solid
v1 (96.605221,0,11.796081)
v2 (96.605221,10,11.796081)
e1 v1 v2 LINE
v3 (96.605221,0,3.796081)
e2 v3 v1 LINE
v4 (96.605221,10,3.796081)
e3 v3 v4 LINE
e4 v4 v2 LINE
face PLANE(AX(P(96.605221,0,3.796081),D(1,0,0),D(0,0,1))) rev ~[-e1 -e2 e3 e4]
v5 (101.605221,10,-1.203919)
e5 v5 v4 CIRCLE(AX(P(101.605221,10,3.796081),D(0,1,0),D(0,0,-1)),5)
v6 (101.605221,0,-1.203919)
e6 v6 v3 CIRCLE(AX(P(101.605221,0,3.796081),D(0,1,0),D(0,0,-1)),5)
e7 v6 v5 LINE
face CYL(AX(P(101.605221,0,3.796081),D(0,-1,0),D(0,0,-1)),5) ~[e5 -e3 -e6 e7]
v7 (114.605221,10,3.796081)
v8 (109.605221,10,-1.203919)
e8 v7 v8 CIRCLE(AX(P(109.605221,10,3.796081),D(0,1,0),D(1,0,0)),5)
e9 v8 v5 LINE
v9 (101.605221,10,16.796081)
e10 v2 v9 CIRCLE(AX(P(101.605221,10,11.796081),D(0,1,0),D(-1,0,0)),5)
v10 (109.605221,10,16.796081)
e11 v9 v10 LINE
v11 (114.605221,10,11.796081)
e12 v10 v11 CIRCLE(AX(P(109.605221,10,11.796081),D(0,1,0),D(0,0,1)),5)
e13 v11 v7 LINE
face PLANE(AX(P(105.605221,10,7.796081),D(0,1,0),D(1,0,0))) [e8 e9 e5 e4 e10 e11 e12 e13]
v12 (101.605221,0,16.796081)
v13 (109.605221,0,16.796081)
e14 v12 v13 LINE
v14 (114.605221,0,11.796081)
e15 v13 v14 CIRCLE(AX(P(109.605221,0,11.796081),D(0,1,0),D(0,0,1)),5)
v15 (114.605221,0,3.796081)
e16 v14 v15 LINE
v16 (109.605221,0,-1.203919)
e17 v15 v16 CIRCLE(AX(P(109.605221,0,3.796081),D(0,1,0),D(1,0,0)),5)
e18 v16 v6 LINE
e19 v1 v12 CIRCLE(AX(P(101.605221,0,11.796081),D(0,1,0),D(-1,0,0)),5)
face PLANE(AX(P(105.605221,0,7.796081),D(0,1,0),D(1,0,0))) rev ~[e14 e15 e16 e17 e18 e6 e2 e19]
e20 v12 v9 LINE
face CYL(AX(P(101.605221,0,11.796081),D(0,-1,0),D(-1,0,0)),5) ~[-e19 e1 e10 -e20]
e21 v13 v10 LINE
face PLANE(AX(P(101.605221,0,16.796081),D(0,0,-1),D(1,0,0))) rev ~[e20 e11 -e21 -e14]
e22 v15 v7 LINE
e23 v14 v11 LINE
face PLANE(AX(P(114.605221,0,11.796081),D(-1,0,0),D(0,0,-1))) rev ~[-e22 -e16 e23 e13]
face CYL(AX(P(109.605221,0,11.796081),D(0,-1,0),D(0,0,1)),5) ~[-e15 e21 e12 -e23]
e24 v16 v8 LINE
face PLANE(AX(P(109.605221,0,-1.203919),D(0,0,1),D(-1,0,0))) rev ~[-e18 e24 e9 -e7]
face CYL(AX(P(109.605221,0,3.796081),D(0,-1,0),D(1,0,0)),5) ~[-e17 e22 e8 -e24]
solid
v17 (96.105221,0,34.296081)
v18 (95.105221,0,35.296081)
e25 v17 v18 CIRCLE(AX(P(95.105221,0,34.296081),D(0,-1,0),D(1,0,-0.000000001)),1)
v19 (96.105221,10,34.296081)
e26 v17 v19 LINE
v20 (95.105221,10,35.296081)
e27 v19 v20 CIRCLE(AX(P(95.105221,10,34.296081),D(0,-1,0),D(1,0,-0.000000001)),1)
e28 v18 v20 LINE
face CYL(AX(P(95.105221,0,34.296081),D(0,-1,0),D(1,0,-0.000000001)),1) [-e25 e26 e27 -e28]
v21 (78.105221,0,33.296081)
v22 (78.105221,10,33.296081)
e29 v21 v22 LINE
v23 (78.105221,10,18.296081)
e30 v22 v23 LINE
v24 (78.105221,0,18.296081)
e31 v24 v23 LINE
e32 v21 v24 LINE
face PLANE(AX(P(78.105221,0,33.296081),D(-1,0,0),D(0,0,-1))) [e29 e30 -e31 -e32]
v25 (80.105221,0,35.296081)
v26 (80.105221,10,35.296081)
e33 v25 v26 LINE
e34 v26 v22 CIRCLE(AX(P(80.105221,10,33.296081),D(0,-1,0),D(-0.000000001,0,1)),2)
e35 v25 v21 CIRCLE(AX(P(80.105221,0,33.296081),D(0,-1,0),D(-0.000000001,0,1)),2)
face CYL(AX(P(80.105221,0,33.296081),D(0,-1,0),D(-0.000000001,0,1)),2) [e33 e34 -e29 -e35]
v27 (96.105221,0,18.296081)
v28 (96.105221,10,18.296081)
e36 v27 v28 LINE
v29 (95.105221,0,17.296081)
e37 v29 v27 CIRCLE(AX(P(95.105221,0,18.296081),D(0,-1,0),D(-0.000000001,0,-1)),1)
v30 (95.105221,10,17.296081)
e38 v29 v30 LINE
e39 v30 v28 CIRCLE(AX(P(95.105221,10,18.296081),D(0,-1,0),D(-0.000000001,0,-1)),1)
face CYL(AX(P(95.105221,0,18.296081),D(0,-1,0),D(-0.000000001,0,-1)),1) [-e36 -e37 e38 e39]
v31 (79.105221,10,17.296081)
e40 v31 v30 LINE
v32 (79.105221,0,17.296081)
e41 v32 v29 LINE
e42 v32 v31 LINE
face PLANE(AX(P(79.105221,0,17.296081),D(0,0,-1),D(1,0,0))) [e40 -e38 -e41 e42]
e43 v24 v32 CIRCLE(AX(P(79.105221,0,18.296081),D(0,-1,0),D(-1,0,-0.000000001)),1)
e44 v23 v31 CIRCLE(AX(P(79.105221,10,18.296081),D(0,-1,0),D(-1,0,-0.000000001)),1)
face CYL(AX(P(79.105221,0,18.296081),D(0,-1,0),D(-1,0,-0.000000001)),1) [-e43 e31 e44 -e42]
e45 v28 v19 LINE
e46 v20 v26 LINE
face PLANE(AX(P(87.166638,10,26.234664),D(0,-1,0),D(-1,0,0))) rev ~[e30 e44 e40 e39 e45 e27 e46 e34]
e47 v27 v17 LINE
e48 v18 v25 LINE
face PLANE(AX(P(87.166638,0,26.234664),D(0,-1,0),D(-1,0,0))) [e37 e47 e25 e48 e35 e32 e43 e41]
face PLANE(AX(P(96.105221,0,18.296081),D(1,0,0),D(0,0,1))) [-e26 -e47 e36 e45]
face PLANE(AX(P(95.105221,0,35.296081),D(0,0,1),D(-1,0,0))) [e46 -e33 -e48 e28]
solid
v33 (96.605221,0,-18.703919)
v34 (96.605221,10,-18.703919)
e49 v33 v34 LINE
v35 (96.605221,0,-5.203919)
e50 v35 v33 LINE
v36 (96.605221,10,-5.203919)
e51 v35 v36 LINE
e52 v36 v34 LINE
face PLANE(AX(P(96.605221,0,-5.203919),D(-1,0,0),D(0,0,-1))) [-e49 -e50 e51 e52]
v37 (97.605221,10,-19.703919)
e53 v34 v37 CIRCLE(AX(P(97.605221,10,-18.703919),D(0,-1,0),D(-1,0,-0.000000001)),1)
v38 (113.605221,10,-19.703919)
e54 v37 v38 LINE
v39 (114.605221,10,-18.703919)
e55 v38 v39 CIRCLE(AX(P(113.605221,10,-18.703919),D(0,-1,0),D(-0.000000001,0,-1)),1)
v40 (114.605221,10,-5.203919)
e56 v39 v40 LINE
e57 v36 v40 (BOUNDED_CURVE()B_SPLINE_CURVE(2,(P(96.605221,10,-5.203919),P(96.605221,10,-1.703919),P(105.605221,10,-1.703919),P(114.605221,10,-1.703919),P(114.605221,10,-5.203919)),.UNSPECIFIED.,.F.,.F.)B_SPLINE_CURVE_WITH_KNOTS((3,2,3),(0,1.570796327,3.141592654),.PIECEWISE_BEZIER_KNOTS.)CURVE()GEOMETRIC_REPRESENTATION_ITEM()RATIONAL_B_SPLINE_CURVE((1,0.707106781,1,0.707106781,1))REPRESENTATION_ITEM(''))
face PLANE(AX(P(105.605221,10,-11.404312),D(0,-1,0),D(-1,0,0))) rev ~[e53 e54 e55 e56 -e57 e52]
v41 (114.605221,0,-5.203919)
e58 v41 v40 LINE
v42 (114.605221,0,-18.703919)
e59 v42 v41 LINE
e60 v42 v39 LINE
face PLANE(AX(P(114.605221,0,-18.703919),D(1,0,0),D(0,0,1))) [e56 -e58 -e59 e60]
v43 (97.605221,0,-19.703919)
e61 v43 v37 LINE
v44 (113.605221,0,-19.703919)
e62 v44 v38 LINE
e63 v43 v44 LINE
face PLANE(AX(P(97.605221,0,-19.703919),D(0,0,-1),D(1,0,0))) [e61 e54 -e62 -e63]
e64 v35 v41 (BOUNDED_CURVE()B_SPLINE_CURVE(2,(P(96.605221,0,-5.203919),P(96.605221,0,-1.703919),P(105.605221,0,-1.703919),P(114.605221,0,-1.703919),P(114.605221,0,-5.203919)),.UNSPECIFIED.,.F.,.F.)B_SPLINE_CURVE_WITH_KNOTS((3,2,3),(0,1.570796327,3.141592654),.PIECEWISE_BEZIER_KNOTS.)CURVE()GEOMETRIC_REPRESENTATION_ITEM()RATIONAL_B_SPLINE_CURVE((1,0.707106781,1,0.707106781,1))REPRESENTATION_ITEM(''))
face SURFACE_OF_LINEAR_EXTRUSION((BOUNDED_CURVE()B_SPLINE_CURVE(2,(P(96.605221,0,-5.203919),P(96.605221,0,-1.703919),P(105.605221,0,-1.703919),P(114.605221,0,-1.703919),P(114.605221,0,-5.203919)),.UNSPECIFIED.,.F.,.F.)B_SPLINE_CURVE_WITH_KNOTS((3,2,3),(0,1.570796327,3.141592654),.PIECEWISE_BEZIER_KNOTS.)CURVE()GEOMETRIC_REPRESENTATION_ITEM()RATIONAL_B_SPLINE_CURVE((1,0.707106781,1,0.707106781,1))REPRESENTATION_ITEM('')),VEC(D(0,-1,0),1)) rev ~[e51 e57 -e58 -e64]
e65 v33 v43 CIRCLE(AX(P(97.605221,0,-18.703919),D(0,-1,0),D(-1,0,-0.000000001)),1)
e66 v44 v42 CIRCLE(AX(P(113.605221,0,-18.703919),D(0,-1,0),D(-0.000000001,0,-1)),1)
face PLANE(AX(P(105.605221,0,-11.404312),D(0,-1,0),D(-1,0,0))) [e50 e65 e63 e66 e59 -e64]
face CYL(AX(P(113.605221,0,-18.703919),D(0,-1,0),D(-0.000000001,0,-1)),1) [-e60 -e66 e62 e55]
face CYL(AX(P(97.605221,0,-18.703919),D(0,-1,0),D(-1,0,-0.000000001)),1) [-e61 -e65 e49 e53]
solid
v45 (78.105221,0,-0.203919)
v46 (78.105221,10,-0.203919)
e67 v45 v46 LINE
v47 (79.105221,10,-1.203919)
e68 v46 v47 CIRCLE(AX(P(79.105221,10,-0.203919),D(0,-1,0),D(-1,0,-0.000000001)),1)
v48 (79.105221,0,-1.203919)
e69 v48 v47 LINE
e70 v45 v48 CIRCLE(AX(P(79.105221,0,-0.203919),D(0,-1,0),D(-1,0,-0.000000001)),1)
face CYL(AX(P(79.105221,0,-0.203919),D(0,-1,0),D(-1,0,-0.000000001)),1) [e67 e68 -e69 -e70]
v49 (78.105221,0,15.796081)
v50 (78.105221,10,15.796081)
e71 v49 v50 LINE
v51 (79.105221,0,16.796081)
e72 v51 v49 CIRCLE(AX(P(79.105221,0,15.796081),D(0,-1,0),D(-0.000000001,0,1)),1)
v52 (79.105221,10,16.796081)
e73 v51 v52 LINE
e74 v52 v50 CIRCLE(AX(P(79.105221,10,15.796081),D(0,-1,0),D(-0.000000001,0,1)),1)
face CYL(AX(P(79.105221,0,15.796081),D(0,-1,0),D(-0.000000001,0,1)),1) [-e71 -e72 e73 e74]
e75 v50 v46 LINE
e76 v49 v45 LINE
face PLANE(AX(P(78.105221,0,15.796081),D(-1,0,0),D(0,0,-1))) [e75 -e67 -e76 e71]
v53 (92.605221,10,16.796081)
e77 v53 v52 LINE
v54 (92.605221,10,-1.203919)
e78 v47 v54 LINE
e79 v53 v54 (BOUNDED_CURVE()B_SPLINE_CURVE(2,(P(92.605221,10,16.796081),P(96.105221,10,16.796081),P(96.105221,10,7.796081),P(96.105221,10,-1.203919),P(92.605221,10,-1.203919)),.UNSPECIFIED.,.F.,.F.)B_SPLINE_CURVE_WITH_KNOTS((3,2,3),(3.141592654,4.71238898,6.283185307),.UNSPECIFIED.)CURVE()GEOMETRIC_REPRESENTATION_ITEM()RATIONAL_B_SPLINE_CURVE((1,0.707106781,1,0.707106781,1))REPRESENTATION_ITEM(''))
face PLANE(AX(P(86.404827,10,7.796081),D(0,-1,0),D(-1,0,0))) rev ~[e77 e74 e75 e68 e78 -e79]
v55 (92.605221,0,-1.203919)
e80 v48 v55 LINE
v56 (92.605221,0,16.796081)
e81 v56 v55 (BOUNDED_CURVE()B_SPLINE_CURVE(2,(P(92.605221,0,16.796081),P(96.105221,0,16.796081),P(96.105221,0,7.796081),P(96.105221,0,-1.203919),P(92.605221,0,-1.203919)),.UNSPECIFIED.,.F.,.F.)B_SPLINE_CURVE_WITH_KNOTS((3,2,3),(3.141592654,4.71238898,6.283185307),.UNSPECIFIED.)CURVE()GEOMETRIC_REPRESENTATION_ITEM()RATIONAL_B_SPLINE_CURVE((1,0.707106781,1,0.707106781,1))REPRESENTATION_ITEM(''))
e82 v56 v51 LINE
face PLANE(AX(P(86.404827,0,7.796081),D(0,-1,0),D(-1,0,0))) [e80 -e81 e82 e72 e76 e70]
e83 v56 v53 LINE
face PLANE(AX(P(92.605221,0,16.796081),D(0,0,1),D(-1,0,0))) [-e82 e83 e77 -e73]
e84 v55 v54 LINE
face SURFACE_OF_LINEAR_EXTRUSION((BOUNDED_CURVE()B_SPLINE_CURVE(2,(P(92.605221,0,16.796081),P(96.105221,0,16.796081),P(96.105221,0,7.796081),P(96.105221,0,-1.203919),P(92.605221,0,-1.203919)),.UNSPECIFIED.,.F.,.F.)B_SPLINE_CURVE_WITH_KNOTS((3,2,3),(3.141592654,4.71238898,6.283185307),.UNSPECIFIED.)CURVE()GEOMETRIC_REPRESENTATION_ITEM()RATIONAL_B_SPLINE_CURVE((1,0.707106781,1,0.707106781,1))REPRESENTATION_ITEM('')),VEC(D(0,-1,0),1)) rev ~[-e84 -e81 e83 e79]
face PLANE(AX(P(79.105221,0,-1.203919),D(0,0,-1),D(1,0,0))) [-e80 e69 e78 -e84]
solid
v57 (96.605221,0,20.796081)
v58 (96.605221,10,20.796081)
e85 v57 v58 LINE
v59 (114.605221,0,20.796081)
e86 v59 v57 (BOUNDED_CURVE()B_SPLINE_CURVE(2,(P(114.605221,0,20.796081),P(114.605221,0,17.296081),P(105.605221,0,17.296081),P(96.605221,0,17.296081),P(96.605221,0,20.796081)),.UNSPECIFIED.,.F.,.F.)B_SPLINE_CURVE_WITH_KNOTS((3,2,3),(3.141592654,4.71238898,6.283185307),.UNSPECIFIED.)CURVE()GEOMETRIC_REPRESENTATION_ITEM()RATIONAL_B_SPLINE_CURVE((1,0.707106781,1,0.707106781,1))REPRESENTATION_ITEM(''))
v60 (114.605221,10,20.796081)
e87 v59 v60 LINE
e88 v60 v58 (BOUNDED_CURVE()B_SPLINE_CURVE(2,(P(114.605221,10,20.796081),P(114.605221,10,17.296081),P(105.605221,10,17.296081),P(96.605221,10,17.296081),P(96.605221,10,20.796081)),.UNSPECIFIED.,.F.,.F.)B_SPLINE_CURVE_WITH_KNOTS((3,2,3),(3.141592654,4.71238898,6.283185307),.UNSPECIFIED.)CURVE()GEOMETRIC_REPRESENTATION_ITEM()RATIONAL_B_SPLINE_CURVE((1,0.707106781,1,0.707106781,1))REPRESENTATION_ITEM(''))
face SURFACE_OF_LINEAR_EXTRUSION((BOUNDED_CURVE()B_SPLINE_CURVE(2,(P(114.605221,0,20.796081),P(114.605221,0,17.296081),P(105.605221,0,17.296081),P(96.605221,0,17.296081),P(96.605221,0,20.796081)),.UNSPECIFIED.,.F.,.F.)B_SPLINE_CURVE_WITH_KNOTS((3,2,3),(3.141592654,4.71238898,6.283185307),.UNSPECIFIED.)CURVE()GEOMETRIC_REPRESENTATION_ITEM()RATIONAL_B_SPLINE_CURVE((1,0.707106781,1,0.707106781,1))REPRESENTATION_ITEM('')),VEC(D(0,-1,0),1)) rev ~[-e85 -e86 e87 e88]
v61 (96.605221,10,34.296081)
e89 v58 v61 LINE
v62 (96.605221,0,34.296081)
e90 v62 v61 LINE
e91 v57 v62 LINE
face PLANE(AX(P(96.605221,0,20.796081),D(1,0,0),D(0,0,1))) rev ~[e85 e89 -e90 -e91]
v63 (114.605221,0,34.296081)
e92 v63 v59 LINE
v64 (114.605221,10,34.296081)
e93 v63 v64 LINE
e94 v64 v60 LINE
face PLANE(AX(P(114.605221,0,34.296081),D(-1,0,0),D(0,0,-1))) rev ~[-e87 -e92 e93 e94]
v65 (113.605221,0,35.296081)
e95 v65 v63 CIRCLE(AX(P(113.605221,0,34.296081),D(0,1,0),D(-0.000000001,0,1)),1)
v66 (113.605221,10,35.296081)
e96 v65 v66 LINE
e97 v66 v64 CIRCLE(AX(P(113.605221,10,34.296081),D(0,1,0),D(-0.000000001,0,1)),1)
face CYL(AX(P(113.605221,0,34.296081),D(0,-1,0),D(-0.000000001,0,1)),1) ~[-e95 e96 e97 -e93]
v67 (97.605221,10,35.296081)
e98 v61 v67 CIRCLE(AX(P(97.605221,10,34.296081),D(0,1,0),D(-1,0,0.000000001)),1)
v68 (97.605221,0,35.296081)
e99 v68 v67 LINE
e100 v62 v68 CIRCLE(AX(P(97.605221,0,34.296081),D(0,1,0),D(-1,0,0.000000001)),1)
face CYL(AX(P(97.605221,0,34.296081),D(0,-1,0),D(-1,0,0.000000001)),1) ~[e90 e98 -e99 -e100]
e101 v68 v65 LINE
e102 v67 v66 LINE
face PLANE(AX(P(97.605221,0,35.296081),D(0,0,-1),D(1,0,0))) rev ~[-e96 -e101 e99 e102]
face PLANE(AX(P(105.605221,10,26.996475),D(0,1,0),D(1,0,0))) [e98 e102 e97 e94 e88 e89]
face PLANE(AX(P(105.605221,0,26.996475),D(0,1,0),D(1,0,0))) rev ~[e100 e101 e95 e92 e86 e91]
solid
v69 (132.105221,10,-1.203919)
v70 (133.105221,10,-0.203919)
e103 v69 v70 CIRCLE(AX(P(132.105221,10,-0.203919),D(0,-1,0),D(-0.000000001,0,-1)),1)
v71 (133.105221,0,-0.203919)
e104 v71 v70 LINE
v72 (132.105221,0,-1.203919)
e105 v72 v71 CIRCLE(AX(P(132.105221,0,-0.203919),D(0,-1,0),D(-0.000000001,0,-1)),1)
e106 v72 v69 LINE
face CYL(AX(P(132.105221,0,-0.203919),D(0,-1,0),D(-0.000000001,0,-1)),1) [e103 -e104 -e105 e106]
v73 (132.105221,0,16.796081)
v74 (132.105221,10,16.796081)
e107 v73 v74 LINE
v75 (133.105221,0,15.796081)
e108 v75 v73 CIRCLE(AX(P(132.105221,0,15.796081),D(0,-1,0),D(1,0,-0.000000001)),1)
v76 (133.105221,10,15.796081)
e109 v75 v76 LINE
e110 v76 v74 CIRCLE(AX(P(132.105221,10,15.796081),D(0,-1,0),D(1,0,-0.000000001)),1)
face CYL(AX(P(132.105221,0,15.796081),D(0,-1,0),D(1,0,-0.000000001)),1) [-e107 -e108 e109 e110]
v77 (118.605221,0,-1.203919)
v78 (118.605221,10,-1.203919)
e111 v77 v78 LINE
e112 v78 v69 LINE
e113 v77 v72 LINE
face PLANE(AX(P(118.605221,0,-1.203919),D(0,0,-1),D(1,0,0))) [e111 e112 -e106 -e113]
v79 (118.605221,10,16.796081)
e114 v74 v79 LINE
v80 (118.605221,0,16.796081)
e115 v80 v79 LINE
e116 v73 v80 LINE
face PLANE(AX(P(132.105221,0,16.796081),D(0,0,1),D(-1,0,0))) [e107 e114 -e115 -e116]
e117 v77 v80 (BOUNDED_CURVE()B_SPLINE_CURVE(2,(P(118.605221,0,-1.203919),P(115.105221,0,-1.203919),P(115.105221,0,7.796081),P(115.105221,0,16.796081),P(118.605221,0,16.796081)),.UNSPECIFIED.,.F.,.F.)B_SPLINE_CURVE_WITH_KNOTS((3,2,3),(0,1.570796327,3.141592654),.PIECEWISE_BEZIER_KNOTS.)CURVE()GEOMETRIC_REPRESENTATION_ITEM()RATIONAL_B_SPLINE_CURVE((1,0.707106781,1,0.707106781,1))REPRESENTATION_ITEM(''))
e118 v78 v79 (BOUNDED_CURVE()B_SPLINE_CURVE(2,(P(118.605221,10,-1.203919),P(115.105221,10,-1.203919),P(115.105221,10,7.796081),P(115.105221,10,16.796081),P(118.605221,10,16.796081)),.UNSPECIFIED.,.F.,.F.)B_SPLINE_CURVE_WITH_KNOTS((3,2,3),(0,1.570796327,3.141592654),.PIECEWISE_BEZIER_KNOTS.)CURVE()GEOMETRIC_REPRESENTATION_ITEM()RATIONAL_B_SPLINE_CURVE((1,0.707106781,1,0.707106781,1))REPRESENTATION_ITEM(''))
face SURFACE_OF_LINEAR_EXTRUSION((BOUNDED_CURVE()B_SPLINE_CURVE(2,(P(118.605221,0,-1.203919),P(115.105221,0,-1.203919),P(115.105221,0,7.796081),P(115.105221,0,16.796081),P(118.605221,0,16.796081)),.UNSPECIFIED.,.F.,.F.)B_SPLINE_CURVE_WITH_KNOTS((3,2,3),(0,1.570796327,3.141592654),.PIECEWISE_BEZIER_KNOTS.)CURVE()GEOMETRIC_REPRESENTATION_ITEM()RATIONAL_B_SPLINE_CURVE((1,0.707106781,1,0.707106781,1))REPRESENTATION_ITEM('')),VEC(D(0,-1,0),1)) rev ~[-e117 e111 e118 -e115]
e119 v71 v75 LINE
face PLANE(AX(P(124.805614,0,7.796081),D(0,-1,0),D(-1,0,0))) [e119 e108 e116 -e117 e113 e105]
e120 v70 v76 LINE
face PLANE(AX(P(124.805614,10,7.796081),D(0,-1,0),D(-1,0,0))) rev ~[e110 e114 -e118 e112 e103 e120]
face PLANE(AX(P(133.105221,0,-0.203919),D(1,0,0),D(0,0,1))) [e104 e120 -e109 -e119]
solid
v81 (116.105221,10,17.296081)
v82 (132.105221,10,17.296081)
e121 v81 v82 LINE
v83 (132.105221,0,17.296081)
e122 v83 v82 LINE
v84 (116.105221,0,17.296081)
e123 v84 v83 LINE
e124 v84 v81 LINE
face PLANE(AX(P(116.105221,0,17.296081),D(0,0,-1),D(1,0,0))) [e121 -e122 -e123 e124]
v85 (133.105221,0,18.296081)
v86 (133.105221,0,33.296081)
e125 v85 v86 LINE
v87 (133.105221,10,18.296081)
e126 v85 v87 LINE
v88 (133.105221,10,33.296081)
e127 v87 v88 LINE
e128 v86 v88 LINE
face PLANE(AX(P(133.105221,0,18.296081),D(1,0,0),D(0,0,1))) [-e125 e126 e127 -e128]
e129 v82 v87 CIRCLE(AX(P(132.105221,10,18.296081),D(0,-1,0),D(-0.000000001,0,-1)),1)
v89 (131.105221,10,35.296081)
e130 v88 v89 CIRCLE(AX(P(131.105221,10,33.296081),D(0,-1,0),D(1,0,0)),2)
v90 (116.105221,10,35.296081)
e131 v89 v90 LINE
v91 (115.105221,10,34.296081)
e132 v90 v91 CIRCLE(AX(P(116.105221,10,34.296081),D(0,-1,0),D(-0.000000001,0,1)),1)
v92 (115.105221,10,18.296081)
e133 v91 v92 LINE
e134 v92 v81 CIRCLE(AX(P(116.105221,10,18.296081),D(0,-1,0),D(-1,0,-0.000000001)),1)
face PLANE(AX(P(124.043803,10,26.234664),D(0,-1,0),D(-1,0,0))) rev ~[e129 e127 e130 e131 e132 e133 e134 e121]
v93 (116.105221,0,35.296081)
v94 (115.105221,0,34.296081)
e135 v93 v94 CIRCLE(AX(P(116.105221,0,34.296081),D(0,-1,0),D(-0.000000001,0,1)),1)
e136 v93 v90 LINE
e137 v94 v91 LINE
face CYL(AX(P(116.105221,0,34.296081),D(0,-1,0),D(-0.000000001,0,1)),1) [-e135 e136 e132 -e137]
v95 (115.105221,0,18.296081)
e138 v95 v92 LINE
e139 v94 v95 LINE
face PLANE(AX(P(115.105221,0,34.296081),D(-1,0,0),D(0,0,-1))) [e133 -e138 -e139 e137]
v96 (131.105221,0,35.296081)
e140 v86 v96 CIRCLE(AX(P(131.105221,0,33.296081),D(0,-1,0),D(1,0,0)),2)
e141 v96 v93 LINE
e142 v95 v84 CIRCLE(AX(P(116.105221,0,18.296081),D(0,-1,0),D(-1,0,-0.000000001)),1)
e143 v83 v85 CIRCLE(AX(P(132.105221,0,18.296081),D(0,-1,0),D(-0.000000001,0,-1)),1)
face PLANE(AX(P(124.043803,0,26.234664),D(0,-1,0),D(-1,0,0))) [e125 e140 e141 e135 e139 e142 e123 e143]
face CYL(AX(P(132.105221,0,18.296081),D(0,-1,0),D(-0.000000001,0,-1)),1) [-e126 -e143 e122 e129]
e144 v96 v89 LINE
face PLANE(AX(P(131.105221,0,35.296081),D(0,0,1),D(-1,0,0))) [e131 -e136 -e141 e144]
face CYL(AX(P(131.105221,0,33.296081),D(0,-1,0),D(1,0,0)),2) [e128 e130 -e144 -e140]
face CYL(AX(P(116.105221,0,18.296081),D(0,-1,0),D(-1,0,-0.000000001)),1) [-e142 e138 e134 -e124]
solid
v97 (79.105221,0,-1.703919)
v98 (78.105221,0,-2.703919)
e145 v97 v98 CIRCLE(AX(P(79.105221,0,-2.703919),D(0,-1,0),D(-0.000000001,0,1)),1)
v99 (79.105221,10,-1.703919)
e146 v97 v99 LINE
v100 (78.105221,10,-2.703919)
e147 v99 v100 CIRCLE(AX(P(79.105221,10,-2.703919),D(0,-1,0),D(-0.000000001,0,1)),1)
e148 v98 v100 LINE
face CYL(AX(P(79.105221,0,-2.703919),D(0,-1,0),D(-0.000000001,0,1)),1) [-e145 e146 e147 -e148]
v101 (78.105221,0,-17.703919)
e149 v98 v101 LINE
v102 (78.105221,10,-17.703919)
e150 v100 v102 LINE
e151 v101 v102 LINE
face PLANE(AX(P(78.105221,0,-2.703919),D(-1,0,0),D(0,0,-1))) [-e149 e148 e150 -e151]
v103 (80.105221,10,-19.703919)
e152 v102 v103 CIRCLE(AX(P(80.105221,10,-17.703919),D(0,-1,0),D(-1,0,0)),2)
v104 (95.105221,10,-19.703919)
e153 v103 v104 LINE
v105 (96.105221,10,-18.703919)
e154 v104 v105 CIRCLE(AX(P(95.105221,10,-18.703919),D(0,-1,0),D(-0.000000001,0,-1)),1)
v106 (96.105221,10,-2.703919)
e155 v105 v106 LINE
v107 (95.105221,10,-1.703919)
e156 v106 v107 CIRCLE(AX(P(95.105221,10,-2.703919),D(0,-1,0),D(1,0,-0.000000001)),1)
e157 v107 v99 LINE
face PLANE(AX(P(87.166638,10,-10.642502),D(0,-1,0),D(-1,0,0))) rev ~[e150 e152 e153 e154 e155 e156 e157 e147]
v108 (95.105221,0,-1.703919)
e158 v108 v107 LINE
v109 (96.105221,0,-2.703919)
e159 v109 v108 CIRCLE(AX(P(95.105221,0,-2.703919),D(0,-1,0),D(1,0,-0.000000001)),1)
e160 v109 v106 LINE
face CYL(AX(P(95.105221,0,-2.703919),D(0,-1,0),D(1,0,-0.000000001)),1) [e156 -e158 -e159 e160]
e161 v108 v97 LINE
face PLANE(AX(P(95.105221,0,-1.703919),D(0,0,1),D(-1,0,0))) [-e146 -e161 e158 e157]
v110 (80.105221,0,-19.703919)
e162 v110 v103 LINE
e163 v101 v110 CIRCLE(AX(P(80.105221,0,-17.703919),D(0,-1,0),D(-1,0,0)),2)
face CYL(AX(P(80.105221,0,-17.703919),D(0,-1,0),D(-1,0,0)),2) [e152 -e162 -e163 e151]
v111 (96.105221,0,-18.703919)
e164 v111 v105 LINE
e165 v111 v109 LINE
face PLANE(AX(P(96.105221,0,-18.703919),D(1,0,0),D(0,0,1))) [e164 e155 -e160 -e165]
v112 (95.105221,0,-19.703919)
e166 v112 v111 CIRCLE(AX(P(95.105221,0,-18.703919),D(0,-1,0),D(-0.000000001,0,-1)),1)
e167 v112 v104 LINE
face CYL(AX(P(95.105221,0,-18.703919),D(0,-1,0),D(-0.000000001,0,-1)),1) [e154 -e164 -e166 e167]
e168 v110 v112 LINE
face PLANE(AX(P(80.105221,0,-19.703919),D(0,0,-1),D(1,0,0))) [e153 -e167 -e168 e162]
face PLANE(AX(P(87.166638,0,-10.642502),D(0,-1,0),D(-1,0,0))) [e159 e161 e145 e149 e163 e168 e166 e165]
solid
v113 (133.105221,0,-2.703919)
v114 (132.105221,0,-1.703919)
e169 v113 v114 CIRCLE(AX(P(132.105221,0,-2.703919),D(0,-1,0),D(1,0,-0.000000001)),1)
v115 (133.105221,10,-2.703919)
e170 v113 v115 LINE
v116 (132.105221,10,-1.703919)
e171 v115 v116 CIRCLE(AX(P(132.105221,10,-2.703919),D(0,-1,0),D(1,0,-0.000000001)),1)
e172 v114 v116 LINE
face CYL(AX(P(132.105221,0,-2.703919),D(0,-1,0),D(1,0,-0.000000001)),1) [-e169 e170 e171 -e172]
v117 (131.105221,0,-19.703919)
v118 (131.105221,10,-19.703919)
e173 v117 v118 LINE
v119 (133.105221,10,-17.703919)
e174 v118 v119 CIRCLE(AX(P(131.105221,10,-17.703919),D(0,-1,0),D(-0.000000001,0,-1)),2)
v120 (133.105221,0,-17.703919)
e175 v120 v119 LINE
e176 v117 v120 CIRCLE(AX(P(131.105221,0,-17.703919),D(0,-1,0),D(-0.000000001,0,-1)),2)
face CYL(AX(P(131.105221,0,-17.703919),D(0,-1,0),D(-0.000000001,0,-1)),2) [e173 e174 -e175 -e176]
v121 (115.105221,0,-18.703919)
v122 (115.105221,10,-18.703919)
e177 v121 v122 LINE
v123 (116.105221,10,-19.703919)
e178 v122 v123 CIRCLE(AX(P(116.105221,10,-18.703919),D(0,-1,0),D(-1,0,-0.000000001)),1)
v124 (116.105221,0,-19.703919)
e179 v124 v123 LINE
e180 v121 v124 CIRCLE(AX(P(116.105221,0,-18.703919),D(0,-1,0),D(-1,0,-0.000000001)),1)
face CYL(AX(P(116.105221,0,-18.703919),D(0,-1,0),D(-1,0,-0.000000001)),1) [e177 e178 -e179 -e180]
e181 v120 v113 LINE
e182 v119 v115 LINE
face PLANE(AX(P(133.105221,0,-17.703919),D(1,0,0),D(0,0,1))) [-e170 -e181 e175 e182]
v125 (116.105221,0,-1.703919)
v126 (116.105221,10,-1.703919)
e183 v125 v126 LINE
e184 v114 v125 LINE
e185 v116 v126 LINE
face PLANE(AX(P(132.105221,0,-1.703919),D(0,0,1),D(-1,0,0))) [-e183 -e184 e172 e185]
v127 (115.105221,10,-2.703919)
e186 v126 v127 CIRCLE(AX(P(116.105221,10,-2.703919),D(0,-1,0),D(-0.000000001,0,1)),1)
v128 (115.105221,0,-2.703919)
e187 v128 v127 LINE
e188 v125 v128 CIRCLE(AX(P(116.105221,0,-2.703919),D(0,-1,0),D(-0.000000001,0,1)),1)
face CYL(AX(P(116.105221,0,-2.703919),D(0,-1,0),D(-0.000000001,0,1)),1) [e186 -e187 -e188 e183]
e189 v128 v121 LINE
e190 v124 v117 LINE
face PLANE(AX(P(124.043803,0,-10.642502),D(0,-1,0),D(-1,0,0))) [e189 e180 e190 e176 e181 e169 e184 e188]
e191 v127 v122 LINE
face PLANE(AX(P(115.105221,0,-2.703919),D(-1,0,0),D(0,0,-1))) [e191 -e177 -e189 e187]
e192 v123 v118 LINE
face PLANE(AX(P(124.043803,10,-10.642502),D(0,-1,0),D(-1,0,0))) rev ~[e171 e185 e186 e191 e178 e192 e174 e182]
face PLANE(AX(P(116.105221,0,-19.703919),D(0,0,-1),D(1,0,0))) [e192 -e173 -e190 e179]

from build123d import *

# Parameters (mm, degrees)
BOSS_EXTRUDE1_DEPTH   = 10
BOSS_EXTRUDE1_2_DEPTH = 10
BOSS_EXTRUDE1_3_DEPTH = 10
BOSS_EXTRUDE1_4_DEPTH = 10
BOSS_EXTRUDE1_5_DEPTH = 10
BOSS_EXTRUDE1_6_DEPTH = 10
BOSS_EXTRUDE1_7_DEPTH = 10
BOSS_EXTRUDE1_8_DEPTH = 10
BOSS_EXTRUDE1_9_DEPTH = 10


with BuildPart() as part:
    # Sketch2 → Boss-Extrude1 (new body)
    with BuildSketch(Plane(origin=(0, 0, 0), x_dir=(1, 0, 0), z_dir=(0, 1, 0))):
        with BuildLine():
            Line((80.105220523, 19.703918666), (95.105220523, 19.703918666))
            ThreePointArc((95.105220523, 19.703918666), (95.812327305, 19.411025447), (96.105220523, 18.703918666))
            Line((96.105220523, 18.703918666), (96.105220523, 2.703918666))
            ThreePointArc((96.105220523, 2.703918666), (95.812327305, 1.996811885), (95.105220523, 1.703918666))
            Line((95.105220523, 1.703918666), (79.105220523, 1.703918666))
            ThreePointArc((79.105220523, 1.703918666), (78.398113742, 1.996811885), (78.105220523, 2.703918666))
            Line((78.105220523, 2.703918666), (78.105220523, 17.703918666))
            ThreePointArc((78.105220523, 17.703918666), (78.691006961, 19.118132229), (80.105220523, 19.703918666))
        make_face()
    extrude(amount=BOSS_EXTRUDE1_DEPTH)


with BuildPart() as body_2:
    # Sketch2 → Boss-Extrude1 2 (new body)
    with BuildSketch(Plane(origin=(0, 0, 0), x_dir=(1, 0, 0), z_dir=(0, 1, 0))):
        with BuildLine():
            Line((96.605220523, -3.796081334), (96.605220523, -11.796081334))
            ThreePointArc((96.605220523, -11.796081334), (98.069686617, -15.33161524), (101.605220523, -16.796081334))
            Line((101.605220523, -16.796081334), (109.605220523, -16.796081334))
            ThreePointArc((109.605220523, -16.796081334), (113.140754429, -15.33161524), (114.605220523, -11.796081334))
            Line((114.605220523, -11.796081334), (114.605220523, -3.796081334))
            ThreePointArc((114.605220523, -3.796081334), (113.140754429, -0.260547428), (109.605220523, 1.203918666))
            Line((109.605220523, 1.203918666), (101.605220523, 1.203918666))
            ThreePointArc((101.605220523, 1.203918666), (98.069686617, -0.260547428), (96.605220523, -3.796081334))
        make_face()
    extrude(amount=BOSS_EXTRUDE1_2_DEPTH)


with BuildPart() as body_3:
    # Sketch2 → Boss-Extrude1 3 (new body)
    with BuildSketch(Plane(origin=(0, 0, 0), x_dir=(1, 0, 0), z_dir=(0, 1, 0))):
        with BuildLine():
            Line((79.105220523, 1.203918666), (92.605220523, 1.203918666))
            add(Edge.make_bspline(
                [(92.605220523, -16.796081334), (96.105220523, -16.796081334), (96.105220523, -7.796081334), (96.105220523, 1.203918666), (92.605220523, 1.203918666)],
                knots=[3.141592654, 3.141592654, 3.141592654, 4.71238898, 4.71238898, 6.283185307, 6.283185307, 6.283185307], degree=2, weights=[1, 0.707106781, 1, 0.707106781, 1]))
            Line((92.605220523, -16.796081334), (79.105220523, -16.796081334))
            ThreePointArc((79.105220523, -16.796081334), (78.398113742, -16.503188115), (78.105220523, -15.796081334))
            Line((78.105220523, -15.796081334), (78.105220523, 0.203918666))
            ThreePointArc((78.105220523, 0.203918666), (78.398113742, 0.911025447), (79.105220523, 1.203918666))
        make_face()
    extrude(amount=BOSS_EXTRUDE1_3_DEPTH)


with BuildPart() as body_4:
    # Sketch2 → Boss-Extrude1 4 (new body)
    with BuildSketch(Plane(origin=(0, 0, 0), x_dir=(1, 0, 0), z_dir=(0, 1, 0))):
        with BuildLine():
            Line((97.605220523, 19.703918666), (113.605220523, 19.703918666))
            ThreePointArc((113.605220523, 19.703918666), (114.312327305, 19.411025447), (114.605220523, 18.703918666))
            Line((114.605220523, 18.703918666), (114.605220523, 5.203918666))
            add(Edge.make_bspline(
                [(96.605220523, 5.203918666), (96.605220523, 1.703918666), (105.605220523, 1.703918666), (114.605220523, 1.703918666), (114.605220523, 5.203918666)],
                knots=[0, 0, 0, 1.570796327, 1.570796327, 3.141592654, 3.141592654, 3.141592654], degree=2, weights=[1, 0.707106781, 1, 0.707106781, 1]))
            Line((96.605220523, 5.203918666), (96.605220523, 18.703918666))
            ThreePointArc((96.605220523, 18.703918666), (96.898113742, 19.411025447), (97.605220523, 19.703918666))
        make_face()
    extrude(amount=BOSS_EXTRUDE1_4_DEPTH)


with BuildPart() as body_5:
    # Sketch2 → Boss-Extrude1 5 (new body)
    with BuildSketch(Plane(origin=(0, 0, 0), x_dir=(1, 0, 0), z_dir=(0, 1, 0))):
        with BuildLine():
            Line((133.105220523, 17.703918666), (133.105220523, 2.703918666))
            ThreePointArc((133.105220523, 2.703918666), (132.812327305, 1.996811885), (132.105220523, 1.703918666))
            Line((132.105220523, 1.703918666), (116.105220523, 1.703918666))
            ThreePointArc((116.105220523, 1.703918666), (115.398113742, 1.996811885), (115.105220523, 2.703918666))
            Line((115.105220523, 2.703918666), (115.105220523, 18.703918666))
            ThreePointArc((115.105220523, 18.703918666), (115.398113742, 19.411025447), (116.105220523, 19.703918666))
            Line((116.105220523, 19.703918666), (131.105220523, 19.703918666))
            ThreePointArc((131.105220523, 19.703918666), (132.519434086, 19.118132229), (133.105220523, 17.703918666))
        make_face()
    extrude(amount=BOSS_EXTRUDE1_5_DEPTH)


with BuildPart() as body_6:
    # Sketch2 → Boss-Extrude1 6 (new body)
    with BuildSketch(Plane(origin=(0, 0, 0), x_dir=(1, 0, 0), z_dir=(0, 1, 0))):
        with BuildLine():
            Line((133.105220523, 0.203918666), (133.105220523, -15.796081334))
            ThreePointArc((133.105220523, -15.796081334), (132.812327305, -16.503188115), (132.105220523, -16.796081334))
            Line((132.105220523, -16.796081334), (118.605220523, -16.796081334))
            add(Edge.make_bspline(
                [(118.605220523, 1.203918666), (115.105220523, 1.203918666), (115.105220523, -7.796081334), (115.105220523, -16.796081334), (118.605220523, -16.796081334)],
                knots=[0, 0, 0, 1.570796327, 1.570796327, 3.141592654, 3.141592654, 3.141592654], degree=2, weights=[1, 0.707106781, 1, 0.707106781, 1]))
            Line((118.605220523, 1.203918666), (132.105220523, 1.203918666))
            ThreePointArc((132.105220523, 1.203918666), (132.812327305, 0.911025447), (133.105220523, 0.203918666))
        make_face()
    extrude(amount=BOSS_EXTRUDE1_6_DEPTH)


with BuildPart() as body_7:
    # Sketch2 → Boss-Extrude1 7 (new body)
    with BuildSketch(Plane(origin=(0, 0, 0), x_dir=(1, 0, 0), z_dir=(0, 1, 0))):
        with BuildLine():
            Line((131.105220523, -35.296081334), (116.105220523, -35.296081334))
            ThreePointArc((116.105220523, -35.296081334), (115.398113742, -35.003188115), (115.105220523, -34.296081334))
            Line((115.105220523, -34.296081334), (115.105220523, -18.296081334))
            ThreePointArc((115.105220523, -18.296081334), (115.398113742, -17.588974553), (116.105220523, -17.296081334))
            Line((116.105220523, -17.296081334), (132.105220523, -17.296081334))
            ThreePointArc((132.105220523, -17.296081334), (132.812327305, -17.588974553), (133.105220523, -18.296081334))
            Line((133.105220523, -18.296081334), (133.105220523, -33.296081334))
            ThreePointArc((133.105220523, -33.296081334), (132.519434086, -34.710294896), (131.105220523, -35.296081334))
        make_face()
    extrude(amount=BOSS_EXTRUDE1_7_DEPTH)


with BuildPart() as body_8:
    # Sketch2 → Boss-Extrude1 8 (new body)
    with BuildSketch(Plane(origin=(0, 0, 0), x_dir=(1, 0, 0), z_dir=(0, 1, 0))):
        with BuildLine():
            Line((114.605220523, -34.296081334), (114.605220523, -20.796081334))
            add(Edge.make_bspline(
                [(114.605220523, -20.796081334), (114.605220523, -17.296081334), (105.605220523, -17.296081334), (96.605220523, -17.296081334), (96.605220523, -20.796081334)],
                knots=[3.141592654, 3.141592654, 3.141592654, 4.71238898, 4.71238898, 6.283185307, 6.283185307, 6.283185307], degree=2, weights=[1, 0.707106781, 1, 0.707106781, 1]))
            Line((96.605220523, -20.796081334), (96.605220523, -34.296081334))
            ThreePointArc((96.605220523, -34.296081334), (96.898113742, -35.003188115), (97.605220523, -35.296081334))
            Line((97.605220523, -35.296081334), (113.605220523, -35.296081334))
            ThreePointArc((113.605220523, -35.296081334), (114.312327305, -35.003188115), (114.605220523, -34.296081334))
        make_face()
    extrude(amount=BOSS_EXTRUDE1_8_DEPTH)


with BuildPart() as body_9:
    # Sketch2 → Boss-Extrude1 9 (new body)
    with BuildSketch(Plane(origin=(0, 0, 0), x_dir=(1, 0, 0), z_dir=(0, 1, 0))):
        with BuildLine():
            Line((78.105220523, -33.296081334), (78.105220523, -18.296081334))
            ThreePointArc((78.105220523, -18.296081334), (78.398113742, -17.588974553), (79.105220523, -17.296081334))
            Line((79.105220523, -17.296081334), (95.105220523, -17.296081334))
            ThreePointArc((95.105220523, -17.296081334), (95.812327305, -17.588974553), (96.105220523, -18.296081334))
            Line((96.105220523, -18.296081334), (96.105220523, -34.296081334))
            ThreePointArc((96.105220523, -34.296081334), (95.812327305, -35.003188115), (95.105220523, -35.296081334))
            Line((95.105220523, -35.296081334), (80.105220523, -35.296081334))
            ThreePointArc((80.105220523, -35.296081334), (78.691006961, -34.710294896), (78.105220523, -33.296081334))
        make_face()
    extrude(amount=BOSS_EXTRUDE1_9_DEPTH)


solid = Compound([part.part, body_2.part, body_3.part, body_4.part, body_5.part, body_6.part, body_7.part, body_8.part, body_9.part])
